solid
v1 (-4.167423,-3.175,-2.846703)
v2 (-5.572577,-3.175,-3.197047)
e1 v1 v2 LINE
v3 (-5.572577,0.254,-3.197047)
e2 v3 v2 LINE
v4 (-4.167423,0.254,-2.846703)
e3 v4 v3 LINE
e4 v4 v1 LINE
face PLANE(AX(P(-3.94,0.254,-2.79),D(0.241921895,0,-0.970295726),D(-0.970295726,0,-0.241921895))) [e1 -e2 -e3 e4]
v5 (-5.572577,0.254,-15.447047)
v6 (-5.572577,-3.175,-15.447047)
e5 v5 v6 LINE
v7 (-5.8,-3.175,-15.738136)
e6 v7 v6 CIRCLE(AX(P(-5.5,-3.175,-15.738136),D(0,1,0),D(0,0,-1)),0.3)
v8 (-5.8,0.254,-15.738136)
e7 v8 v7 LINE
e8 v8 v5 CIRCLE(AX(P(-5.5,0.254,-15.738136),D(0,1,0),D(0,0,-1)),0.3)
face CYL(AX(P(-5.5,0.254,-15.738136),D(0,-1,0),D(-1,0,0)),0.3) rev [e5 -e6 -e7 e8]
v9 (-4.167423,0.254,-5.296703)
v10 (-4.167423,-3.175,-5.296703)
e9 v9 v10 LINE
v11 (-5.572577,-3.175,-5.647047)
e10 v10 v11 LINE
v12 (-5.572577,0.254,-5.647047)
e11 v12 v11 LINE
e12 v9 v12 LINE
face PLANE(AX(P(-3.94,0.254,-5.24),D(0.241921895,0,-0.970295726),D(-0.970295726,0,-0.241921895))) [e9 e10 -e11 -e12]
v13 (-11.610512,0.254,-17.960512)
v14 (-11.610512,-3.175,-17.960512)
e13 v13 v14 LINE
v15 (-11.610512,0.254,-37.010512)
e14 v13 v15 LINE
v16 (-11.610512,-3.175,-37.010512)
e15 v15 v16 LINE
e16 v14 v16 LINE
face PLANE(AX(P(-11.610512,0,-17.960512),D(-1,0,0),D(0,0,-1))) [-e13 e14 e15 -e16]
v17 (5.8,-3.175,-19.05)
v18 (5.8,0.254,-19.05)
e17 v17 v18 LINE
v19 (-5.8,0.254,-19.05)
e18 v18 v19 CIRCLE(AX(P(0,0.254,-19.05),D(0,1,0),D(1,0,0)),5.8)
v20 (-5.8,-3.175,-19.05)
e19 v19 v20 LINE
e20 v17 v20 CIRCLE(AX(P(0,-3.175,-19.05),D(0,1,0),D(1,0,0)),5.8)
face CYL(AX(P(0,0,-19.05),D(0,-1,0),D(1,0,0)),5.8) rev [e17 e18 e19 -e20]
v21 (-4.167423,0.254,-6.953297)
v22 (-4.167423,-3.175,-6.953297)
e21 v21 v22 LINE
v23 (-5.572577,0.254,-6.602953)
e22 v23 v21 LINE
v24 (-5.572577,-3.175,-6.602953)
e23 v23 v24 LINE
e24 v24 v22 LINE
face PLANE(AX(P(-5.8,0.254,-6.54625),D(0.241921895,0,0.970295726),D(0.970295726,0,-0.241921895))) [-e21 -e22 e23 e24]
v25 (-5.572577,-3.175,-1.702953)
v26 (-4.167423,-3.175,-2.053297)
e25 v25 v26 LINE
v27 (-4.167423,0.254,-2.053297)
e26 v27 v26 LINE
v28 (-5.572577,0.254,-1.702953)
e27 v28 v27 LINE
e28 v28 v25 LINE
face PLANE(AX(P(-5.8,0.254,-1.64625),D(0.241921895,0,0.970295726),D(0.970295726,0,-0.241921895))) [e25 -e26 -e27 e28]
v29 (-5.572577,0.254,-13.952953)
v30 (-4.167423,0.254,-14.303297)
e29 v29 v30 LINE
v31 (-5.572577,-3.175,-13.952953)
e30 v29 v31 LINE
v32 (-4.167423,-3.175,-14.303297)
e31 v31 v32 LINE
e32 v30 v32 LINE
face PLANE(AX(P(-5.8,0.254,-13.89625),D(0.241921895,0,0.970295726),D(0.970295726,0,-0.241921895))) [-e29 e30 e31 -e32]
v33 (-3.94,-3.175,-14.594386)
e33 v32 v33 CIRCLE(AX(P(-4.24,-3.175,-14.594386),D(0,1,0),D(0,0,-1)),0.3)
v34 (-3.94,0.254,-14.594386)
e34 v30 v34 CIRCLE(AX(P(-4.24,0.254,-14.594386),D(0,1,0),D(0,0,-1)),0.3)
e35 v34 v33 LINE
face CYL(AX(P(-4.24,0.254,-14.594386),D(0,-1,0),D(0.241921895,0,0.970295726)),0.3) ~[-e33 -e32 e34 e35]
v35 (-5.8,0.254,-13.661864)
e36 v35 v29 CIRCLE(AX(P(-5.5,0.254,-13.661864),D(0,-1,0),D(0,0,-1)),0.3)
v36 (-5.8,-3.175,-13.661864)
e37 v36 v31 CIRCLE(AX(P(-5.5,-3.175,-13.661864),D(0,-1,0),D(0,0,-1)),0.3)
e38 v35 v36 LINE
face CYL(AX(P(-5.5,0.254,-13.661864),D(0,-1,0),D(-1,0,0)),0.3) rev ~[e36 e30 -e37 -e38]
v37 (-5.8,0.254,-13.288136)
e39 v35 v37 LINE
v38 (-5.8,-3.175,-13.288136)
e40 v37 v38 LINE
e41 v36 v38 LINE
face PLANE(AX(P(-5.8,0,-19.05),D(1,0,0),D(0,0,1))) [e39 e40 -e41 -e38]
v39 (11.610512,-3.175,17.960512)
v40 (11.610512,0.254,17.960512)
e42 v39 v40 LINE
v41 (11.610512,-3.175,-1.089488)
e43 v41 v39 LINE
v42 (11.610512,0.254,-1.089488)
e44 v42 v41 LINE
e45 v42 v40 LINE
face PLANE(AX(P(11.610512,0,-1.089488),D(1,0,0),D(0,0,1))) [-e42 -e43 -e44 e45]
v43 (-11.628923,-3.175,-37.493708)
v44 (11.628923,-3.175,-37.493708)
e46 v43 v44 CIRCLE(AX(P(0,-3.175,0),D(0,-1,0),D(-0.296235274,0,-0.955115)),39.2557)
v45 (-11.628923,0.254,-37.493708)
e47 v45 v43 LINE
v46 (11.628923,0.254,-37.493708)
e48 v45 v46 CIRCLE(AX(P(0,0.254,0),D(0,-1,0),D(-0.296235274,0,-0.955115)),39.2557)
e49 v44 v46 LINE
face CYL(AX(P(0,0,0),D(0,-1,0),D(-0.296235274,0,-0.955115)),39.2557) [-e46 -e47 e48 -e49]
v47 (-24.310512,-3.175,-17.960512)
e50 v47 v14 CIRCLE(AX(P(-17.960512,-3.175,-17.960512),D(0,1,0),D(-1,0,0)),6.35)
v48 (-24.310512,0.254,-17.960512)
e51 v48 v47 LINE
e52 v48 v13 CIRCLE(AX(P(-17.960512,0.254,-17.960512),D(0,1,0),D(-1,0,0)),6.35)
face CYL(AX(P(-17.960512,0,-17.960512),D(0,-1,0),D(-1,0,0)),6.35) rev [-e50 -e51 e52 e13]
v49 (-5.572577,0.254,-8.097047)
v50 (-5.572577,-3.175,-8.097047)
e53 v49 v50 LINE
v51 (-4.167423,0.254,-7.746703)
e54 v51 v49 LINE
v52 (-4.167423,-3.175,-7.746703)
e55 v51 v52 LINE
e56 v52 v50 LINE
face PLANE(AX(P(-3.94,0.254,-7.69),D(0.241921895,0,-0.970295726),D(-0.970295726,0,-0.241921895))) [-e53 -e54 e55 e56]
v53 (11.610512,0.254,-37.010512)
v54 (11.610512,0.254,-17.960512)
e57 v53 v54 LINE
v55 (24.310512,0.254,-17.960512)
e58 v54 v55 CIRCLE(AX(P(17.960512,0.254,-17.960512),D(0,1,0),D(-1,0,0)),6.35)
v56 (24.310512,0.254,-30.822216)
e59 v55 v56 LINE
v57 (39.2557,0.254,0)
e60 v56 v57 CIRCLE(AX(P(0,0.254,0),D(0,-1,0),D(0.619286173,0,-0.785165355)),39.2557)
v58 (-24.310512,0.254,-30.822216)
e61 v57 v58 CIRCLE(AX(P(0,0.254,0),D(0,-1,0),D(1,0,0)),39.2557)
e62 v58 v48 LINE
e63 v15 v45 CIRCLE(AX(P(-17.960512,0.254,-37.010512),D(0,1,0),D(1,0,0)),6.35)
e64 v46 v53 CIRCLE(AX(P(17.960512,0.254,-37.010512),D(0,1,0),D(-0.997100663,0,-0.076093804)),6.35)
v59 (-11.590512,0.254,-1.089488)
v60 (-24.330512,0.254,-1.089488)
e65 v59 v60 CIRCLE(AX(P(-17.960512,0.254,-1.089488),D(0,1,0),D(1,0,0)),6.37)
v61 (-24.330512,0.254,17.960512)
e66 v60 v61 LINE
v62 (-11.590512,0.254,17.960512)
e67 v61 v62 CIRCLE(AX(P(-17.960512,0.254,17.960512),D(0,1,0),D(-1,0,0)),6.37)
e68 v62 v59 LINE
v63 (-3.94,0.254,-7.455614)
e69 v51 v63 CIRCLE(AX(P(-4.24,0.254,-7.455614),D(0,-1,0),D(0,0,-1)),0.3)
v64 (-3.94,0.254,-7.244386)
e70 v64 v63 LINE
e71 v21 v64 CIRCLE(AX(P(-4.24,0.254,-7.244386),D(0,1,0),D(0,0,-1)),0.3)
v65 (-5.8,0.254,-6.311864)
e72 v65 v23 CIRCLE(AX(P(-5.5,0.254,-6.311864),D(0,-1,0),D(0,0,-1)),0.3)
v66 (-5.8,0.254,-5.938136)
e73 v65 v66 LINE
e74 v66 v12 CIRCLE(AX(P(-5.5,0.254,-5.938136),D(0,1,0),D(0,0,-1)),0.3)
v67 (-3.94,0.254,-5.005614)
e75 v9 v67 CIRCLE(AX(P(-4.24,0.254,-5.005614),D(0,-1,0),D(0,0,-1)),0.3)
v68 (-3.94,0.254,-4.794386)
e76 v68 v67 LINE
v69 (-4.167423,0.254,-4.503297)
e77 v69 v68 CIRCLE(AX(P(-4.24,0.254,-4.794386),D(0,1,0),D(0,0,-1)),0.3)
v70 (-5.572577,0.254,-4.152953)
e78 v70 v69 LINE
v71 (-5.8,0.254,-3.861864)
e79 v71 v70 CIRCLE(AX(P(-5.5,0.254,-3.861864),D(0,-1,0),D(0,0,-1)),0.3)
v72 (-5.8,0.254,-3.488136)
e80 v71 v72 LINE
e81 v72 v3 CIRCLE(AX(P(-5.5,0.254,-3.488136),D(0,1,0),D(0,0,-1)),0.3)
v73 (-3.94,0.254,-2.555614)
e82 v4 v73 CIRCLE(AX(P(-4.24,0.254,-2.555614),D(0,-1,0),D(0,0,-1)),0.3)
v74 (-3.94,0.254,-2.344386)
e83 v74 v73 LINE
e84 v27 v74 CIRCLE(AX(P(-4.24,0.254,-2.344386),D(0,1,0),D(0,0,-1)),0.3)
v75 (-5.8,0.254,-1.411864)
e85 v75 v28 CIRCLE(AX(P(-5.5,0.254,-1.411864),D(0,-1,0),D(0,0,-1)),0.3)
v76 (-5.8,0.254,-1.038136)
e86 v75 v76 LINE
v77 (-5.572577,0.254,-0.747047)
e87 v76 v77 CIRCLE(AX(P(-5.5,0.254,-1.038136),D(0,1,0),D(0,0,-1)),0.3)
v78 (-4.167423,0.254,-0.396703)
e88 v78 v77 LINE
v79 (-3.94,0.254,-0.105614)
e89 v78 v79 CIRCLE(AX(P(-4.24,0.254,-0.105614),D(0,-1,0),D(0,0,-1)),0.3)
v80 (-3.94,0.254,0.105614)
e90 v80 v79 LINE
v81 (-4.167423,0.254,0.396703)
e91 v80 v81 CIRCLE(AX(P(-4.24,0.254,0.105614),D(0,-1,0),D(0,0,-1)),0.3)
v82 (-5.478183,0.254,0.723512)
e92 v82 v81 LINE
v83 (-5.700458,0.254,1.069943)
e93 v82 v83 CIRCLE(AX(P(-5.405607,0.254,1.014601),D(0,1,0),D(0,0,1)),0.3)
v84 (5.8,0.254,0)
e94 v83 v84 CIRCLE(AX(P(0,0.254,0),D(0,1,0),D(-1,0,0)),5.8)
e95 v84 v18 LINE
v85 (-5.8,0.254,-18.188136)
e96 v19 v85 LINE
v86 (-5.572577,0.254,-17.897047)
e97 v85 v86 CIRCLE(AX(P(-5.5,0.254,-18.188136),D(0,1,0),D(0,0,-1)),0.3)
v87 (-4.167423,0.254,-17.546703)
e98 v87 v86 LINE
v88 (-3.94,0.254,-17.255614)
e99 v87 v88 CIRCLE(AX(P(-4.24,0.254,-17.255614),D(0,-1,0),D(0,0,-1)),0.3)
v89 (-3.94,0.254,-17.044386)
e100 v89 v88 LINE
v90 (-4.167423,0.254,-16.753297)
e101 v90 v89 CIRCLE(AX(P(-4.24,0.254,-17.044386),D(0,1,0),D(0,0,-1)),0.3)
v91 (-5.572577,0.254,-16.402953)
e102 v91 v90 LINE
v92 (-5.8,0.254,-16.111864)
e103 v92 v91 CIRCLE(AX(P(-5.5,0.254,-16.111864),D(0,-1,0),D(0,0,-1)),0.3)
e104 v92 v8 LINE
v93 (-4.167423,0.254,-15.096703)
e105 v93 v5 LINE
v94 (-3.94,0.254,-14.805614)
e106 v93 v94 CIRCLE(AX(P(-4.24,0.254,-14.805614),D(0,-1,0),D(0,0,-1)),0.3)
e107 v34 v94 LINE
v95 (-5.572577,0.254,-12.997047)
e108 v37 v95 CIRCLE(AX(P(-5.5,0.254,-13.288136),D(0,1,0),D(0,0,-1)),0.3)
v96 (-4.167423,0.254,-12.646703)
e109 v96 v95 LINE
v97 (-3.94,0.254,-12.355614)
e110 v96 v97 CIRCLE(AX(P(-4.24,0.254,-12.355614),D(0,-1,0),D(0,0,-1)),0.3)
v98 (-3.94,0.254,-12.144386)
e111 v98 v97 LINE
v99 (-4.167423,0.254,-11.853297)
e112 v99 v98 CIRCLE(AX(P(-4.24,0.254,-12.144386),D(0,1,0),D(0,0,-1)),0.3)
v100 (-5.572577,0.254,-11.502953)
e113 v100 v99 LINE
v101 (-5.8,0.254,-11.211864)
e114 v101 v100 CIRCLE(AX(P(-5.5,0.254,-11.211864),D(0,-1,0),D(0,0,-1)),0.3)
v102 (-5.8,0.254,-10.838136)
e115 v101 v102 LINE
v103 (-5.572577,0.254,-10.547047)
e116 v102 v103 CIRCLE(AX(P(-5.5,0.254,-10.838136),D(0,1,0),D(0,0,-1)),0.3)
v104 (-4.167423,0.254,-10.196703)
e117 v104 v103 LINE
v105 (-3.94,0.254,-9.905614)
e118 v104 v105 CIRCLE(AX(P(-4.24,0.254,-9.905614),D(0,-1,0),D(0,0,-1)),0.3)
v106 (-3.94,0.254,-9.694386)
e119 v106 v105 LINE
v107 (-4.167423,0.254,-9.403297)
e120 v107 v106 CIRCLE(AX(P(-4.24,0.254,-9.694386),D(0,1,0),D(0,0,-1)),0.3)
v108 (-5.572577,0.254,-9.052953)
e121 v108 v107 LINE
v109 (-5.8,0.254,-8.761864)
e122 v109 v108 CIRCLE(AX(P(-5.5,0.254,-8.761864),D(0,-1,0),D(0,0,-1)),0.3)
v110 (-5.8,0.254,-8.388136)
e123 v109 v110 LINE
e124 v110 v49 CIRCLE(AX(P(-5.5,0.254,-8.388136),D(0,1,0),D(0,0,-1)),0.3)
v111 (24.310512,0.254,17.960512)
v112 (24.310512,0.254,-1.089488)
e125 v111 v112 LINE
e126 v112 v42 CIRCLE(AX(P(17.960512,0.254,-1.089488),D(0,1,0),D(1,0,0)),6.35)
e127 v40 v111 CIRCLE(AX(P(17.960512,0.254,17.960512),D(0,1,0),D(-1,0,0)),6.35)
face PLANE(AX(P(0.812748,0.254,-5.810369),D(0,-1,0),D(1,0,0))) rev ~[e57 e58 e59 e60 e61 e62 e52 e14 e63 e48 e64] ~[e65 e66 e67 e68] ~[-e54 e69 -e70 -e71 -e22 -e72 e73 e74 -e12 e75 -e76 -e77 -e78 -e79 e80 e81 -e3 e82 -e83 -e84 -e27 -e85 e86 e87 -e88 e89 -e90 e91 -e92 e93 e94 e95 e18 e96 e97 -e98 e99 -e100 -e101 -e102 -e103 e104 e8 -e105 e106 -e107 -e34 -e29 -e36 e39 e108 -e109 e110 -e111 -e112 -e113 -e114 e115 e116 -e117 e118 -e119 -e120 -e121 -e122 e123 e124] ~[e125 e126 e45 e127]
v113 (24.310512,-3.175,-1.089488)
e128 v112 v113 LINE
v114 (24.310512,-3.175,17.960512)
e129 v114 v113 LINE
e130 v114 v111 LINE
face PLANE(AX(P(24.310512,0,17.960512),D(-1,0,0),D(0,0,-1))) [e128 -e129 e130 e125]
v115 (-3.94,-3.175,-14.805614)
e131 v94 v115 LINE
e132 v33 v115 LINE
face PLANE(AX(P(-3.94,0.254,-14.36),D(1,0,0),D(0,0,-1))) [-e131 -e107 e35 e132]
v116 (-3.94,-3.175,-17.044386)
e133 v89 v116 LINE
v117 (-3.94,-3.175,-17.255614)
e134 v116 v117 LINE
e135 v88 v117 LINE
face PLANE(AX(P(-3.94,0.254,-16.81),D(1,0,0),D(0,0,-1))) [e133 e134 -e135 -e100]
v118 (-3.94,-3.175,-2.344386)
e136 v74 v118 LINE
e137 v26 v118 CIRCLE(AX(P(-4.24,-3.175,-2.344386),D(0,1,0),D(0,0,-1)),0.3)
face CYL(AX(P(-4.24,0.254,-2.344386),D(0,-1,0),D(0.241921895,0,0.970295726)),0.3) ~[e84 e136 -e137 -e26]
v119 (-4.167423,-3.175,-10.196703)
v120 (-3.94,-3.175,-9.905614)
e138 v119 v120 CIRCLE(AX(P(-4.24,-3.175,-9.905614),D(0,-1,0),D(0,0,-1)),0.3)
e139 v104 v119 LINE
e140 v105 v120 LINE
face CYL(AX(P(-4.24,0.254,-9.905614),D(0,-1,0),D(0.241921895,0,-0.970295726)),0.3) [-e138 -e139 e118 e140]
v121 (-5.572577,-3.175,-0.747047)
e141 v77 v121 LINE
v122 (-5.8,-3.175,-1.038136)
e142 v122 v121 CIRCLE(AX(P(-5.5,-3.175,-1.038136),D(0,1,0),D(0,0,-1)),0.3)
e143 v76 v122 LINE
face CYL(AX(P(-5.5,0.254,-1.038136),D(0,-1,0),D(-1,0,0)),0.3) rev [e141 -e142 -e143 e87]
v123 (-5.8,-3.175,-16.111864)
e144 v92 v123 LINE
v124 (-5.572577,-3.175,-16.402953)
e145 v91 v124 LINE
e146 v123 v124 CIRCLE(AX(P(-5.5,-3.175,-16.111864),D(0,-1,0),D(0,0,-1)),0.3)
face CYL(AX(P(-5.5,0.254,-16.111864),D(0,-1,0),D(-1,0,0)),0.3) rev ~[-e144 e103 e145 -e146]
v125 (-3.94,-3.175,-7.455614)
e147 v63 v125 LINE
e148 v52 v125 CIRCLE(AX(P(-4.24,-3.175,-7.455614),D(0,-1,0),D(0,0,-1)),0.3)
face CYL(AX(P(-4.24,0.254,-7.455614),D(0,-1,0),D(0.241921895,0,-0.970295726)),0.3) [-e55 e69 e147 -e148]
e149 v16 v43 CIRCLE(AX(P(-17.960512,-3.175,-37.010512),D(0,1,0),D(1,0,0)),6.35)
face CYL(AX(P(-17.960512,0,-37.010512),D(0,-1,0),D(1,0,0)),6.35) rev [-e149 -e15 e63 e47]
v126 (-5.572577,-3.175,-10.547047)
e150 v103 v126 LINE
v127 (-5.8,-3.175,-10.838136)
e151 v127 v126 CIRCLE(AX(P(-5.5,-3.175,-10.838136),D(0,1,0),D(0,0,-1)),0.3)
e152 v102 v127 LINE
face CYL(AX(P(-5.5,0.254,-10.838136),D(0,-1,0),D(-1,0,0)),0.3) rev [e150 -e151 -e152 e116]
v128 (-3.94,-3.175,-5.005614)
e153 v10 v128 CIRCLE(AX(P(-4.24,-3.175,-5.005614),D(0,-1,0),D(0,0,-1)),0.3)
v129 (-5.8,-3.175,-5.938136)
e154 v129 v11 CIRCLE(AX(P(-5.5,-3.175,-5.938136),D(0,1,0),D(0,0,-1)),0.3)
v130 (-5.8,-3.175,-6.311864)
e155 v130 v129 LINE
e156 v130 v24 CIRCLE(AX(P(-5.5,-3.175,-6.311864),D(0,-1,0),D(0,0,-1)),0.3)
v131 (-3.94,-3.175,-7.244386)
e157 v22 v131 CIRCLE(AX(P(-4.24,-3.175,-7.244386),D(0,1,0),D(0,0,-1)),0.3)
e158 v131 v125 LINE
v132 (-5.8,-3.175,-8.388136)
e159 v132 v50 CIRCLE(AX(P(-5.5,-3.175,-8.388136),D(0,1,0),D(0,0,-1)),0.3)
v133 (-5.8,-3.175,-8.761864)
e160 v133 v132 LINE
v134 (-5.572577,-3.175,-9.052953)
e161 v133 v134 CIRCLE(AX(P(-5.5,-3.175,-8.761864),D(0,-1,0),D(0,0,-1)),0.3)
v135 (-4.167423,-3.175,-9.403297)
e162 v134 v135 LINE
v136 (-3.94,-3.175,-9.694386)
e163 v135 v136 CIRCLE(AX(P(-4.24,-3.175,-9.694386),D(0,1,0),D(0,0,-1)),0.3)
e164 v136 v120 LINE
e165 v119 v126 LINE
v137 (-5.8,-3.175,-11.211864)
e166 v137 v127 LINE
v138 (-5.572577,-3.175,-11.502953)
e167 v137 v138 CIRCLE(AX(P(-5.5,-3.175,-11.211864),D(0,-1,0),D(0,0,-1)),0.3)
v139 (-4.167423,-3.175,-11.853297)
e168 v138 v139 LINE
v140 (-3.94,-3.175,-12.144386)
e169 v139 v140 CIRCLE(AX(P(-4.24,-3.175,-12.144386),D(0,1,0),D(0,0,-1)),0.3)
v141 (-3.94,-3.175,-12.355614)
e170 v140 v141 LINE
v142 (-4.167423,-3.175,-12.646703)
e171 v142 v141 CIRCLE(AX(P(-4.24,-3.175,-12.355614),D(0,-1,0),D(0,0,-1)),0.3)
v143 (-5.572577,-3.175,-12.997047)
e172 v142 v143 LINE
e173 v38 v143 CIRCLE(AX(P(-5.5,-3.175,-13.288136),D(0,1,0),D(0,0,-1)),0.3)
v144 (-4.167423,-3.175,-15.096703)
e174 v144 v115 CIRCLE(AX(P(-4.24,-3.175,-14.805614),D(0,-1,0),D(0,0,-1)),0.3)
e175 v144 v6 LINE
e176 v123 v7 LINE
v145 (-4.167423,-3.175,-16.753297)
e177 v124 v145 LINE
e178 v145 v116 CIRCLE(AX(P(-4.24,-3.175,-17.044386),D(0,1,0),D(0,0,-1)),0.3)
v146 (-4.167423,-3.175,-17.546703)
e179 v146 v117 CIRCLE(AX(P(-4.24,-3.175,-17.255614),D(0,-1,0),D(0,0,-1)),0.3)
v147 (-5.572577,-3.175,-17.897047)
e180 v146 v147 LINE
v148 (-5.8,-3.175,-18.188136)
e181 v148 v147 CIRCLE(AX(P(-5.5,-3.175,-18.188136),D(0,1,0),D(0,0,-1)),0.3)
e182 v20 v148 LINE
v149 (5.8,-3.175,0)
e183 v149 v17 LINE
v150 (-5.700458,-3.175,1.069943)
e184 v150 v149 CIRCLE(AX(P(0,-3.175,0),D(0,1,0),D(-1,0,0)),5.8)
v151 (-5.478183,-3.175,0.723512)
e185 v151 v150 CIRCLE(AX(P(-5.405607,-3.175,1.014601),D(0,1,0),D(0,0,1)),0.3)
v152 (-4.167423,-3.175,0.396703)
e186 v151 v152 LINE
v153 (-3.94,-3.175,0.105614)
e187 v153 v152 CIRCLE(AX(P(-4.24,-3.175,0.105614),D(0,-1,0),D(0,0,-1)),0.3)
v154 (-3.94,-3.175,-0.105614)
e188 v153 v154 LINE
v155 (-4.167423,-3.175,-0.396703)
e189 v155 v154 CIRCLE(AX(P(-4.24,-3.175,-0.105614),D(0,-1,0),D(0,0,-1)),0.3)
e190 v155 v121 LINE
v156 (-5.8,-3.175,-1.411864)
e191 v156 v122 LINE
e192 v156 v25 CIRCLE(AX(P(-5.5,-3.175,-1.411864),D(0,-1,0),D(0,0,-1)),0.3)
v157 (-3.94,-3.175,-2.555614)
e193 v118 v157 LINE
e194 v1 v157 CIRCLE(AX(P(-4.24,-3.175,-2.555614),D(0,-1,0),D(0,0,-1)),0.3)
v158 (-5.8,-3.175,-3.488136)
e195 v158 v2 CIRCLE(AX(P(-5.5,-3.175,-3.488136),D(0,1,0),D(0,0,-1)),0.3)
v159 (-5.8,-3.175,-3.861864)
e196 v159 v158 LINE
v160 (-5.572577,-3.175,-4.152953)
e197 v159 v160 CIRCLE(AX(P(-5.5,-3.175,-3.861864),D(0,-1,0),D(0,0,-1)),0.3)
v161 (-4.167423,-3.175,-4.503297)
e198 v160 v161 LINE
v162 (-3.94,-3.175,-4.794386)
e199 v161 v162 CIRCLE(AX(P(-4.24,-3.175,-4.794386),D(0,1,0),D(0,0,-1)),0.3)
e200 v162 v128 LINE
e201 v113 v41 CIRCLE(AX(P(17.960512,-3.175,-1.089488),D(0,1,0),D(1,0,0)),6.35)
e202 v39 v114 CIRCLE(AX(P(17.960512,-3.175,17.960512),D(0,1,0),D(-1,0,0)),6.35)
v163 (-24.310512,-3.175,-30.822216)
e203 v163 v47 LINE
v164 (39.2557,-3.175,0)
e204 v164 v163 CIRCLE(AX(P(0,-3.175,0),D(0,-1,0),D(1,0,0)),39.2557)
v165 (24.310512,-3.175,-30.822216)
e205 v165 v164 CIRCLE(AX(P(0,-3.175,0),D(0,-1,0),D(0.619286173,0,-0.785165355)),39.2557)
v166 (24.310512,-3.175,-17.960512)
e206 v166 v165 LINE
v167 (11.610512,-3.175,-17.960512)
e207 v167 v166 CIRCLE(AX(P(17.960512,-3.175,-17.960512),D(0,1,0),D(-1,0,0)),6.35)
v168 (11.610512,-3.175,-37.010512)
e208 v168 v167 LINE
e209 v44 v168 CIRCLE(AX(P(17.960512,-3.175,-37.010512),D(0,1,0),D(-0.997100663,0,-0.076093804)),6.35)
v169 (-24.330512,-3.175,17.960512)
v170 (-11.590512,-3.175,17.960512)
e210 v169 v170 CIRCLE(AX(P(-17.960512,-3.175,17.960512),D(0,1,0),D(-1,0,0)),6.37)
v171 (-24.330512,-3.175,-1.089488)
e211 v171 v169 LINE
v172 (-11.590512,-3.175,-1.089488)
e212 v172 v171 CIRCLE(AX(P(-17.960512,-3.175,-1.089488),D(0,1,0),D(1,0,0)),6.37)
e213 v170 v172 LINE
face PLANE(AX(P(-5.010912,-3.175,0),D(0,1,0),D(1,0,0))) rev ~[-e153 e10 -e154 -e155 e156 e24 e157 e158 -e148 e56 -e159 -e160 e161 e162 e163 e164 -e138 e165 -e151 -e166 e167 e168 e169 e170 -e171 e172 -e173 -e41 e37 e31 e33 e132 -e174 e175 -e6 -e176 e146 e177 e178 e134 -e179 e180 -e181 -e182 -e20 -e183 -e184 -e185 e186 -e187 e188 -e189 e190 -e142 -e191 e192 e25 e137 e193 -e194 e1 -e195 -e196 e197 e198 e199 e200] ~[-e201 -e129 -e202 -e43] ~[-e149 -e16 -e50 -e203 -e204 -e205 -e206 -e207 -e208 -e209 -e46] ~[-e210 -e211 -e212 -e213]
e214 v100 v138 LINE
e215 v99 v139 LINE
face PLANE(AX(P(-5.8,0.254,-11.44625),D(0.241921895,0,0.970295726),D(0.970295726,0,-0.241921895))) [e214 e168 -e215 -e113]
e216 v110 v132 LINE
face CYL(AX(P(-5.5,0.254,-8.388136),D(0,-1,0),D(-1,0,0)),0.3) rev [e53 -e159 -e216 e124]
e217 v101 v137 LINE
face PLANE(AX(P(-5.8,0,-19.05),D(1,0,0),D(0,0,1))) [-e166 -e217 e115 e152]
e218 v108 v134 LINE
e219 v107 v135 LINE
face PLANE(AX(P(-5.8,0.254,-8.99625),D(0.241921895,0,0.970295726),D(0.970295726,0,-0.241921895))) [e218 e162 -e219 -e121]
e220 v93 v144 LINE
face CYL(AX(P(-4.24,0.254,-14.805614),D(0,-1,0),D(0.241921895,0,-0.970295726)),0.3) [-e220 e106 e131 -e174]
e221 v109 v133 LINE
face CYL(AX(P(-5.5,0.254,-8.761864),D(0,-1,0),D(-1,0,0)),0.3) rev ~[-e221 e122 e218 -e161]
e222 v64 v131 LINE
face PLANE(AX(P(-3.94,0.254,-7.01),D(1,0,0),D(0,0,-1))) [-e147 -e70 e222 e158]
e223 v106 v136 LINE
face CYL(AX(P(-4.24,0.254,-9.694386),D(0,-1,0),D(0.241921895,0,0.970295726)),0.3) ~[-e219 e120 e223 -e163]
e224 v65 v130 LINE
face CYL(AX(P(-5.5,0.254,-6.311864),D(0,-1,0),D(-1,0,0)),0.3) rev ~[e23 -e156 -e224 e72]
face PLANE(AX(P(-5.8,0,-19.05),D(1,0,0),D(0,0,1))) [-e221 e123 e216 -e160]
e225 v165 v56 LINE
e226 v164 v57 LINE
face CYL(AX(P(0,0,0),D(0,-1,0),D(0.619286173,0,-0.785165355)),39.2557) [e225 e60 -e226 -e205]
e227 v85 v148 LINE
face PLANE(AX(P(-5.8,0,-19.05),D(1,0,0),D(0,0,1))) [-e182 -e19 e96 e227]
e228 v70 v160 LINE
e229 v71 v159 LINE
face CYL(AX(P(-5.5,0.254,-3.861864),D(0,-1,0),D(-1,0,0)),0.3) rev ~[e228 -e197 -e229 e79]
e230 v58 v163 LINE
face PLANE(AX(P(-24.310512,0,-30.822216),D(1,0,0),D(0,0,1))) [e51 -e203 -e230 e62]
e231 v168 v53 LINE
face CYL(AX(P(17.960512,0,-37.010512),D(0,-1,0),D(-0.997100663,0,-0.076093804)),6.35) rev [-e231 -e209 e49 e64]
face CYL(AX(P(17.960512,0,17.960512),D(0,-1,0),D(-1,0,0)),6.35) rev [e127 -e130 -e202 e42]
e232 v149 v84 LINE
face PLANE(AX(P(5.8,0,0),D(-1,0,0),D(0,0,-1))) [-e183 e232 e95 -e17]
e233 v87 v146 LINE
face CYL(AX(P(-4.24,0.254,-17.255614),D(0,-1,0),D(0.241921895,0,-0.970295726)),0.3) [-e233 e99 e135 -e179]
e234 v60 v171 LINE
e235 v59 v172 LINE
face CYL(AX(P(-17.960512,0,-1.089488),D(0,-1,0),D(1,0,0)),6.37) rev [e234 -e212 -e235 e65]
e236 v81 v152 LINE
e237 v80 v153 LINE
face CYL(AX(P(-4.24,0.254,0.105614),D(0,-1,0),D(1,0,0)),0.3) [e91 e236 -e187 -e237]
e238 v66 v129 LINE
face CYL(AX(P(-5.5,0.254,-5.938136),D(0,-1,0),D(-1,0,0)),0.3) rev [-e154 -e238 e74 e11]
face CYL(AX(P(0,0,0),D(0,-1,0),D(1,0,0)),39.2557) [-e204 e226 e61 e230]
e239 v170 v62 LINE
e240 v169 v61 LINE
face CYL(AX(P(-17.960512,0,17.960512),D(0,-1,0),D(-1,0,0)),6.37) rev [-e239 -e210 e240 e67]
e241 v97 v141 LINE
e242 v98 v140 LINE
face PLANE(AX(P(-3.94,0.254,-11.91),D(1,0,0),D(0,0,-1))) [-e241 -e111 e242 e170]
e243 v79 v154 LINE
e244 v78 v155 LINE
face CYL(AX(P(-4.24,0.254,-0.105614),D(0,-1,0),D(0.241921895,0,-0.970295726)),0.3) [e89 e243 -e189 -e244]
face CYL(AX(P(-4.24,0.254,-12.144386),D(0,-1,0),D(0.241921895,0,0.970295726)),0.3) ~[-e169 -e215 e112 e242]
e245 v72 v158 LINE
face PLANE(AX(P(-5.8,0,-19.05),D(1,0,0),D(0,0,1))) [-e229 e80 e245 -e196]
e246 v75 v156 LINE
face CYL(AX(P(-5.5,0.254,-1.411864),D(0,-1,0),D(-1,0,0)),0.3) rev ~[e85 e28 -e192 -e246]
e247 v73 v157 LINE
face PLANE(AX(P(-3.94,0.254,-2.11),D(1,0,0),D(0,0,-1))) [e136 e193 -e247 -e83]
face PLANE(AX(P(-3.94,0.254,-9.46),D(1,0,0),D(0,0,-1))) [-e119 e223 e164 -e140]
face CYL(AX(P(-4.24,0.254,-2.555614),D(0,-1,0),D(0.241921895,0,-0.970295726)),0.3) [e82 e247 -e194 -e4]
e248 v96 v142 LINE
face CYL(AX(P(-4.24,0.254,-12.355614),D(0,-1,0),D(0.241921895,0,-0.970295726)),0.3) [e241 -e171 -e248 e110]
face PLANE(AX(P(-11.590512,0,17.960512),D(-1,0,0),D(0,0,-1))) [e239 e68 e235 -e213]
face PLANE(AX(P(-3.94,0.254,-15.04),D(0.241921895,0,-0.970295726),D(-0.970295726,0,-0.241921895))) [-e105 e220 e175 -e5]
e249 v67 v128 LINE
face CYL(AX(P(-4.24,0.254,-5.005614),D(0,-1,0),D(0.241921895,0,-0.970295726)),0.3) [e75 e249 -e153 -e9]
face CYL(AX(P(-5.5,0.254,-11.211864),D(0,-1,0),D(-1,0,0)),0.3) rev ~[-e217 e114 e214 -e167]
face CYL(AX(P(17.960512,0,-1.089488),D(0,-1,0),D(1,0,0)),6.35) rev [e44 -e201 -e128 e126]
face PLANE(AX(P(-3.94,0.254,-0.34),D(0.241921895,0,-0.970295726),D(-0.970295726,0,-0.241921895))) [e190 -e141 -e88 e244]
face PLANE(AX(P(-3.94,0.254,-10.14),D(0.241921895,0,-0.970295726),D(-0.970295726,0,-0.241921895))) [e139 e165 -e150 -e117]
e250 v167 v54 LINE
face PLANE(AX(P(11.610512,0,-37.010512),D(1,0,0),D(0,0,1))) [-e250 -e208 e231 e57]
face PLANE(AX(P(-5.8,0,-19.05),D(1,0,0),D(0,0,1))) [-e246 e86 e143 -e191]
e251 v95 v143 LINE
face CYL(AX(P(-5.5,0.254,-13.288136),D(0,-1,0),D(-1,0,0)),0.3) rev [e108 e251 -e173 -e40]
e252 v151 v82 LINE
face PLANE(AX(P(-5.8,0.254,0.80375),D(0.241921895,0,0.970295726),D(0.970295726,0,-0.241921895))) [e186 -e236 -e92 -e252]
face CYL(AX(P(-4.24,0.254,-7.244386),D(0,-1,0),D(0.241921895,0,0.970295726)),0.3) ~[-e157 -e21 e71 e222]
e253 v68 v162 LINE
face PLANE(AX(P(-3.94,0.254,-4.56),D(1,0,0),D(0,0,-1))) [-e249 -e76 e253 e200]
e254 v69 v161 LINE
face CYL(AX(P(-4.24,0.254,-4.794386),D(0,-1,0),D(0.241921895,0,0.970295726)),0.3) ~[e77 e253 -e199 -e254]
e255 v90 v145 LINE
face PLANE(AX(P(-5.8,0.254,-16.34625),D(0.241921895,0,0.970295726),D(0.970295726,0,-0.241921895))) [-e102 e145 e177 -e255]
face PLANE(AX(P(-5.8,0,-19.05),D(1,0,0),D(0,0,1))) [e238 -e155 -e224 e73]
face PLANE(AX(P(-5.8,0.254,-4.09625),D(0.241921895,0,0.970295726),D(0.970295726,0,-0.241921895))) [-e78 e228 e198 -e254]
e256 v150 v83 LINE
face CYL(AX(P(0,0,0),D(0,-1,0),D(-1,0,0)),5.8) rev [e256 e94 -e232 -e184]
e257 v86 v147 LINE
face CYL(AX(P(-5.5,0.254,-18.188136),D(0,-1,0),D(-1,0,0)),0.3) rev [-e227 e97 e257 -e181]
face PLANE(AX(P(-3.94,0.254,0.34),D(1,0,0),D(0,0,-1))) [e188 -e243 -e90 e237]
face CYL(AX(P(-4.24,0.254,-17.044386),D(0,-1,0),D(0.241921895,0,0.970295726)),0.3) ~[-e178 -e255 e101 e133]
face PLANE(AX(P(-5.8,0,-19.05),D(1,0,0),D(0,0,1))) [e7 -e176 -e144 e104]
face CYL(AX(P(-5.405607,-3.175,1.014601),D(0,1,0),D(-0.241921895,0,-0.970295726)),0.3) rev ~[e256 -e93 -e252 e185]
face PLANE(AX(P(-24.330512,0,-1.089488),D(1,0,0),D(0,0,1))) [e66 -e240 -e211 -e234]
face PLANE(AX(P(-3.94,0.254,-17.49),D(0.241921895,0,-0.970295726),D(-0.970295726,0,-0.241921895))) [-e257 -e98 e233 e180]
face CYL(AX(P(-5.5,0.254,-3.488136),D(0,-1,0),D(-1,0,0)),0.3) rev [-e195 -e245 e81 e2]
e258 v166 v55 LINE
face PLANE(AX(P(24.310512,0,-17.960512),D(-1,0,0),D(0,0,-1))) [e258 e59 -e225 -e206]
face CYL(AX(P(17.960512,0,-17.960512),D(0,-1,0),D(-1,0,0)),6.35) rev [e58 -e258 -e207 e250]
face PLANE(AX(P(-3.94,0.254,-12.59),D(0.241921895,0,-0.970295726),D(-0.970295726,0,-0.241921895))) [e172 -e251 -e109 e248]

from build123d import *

# Parameters (mm, degrees)
BOSS_EXTRUDE1_DEPTH      = 3.175
BOSS_EXTRUDE1_DEPTH_BACK = 0.254
BOSS_EXTRUDE2_DEPTH      = 3.429
LPATTERN1_COUNT          = 8
LPATTERN1_PITCH          = 2.45
FILLET1_R                = 0.3


with BuildPart() as part:
    # Sketch3 → Boss-Extrude1 (new body, two sides)
    with BuildSketch(Plane.XZ) as boss_extrude1_sk:
        with BuildLine():
            ThreePointArc((39.2557, 0), (-17.127226966, 35.322345321), (-24.310512242, -30.822215641))
            Line((-24.310512242, -30.822215641), (-24.310512242, -17.960512242))
            ThreePointArc((-24.310512242, -17.960512242), (-17.960512242, -11.610512242), (-11.610512242, -17.960512242))
            Line((-11.610512242, -17.960512242), (-11.610512242, -37.010512242))
            ThreePointArc((-11.610512242, -37.010512242), (-11.615116608, -37.252285377), (-11.628923029, -37.493707894))
            ThreePointArc((-11.628923029, -37.493707894), (0, -39.2557), (11.628923029, -37.493707894))
            ThreePointArc((11.628923029, -37.493707894), (11.615116608, -37.252285377), (11.610512242, -37.010512242))
            Line((11.610512242, -37.010512242), (11.610512242, -17.960512242))
            ThreePointArc((11.610512242, -17.960512242), (17.960512242, -11.610512242), (24.310512242, -17.960512242))
            Line((24.310512242, -17.960512242), (24.310512242, -30.822215641))
            ThreePointArc((24.310512242, -30.822215641), (35.322345321, -17.127226966), (39.2557, 0))
        make_face()
        with BuildLine():
            ThreePointArc((-5.8, 0), (0, 5.8), (5.8, 0))
            Line((5.8, 0), (5.8, -19.05))
            ThreePointArc((5.8, -19.05), (0, -24.85), (-5.8, -19.05))
            Line((-5.8, -19.05), (-5.8, 0))
        make_face(mode=Mode.SUBTRACT)
        with BuildLine():
            ThreePointArc((-11.590512242, -1.089487758), (-17.960512242, -7.459487758), (-24.330512242, -1.089487758))
            Line((-24.330512242, -1.089487758), (-24.330512242, 17.960512242))
            ThreePointArc((-24.330512242, 17.960512242), (-17.960512242, 24.330512242), (-11.590512242, 17.960512242))
            Line((-11.590512242, 17.960512242), (-11.590512242, -1.089487758))
        make_face(mode=Mode.SUBTRACT)
        with BuildLine():
            ThreePointArc((24.310512242, -1.089487758), (17.960512242, -7.439487758), (11.610512242, -1.089487758))
            Line((11.610512242, -1.089487758), (11.610512242, 17.960512242))
            ThreePointArc((11.610512242, 17.960512242), (17.960512242, 24.310512242), (24.310512242, 17.960512242))
            Line((24.310512242, 17.960512242), (24.310512242, -1.089487758))
        make_face(mode=Mode.SUBTRACT)
    extrude(amount=BOSS_EXTRUDE1_DEPTH)
    extrude(boss_extrude1_sk.sketch, amount=-BOSS_EXTRUDE1_DEPTH_BACK)

    # Sketch4 → Boss-Extrude2 (add)
    with BuildSketch(Plane(origin=(0, 0.254, 0), x_dir=(1, 0, 0), z_dir=(0, 1, 0))):
        Polygon((-5.8, -0.803750085), (-3.94, -0.34), (-3.94, 0.34), (-5.8, 0.803750085), align=None)
    boss_extrude2 = extrude(amount=-BOSS_EXTRUDE2_DEPTH)

    # LPattern1: Boss-Extrude2 ×8
    with Locations(*[(0, 0, -i * LPATTERN1_PITCH) for i in range(1, LPATTERN1_COUNT)]):
        add(boss_extrude2)

    # Fillet1
    fillet1_edges = [part.edges().sort_by_distance(p)[0] for p in [
        (-3.94, -1.4605, 0.34),
        (-5.8, -1.4605, -0.803750085),
        (-3.94, -1.4605, -0.34),
        (-5.7459101, -1.4605, 0.790263959),
        (-5.8, -1.4605, -1.646249915),
        (-5.8, -1.4605, -3.253750085),
        (-3.94, -1.4605, -2.79),
        (-3.94, -1.4605, -2.11),
        (-5.8, -1.4605, -4.096249915),
        (-5.8, -1.4605, -5.703750085),
        (-3.94, -1.4605, -5.24),
        (-3.94, -1.4605, -4.56),
        (-5.8, -1.4605, -6.546249915),
        (-5.8, -1.4605, -8.153750085),
        (-3.94, -1.4605, -7.69),
        (-3.94, -1.4605, -7.01),
        (-5.8, -1.4605, -8.996249915),
        (-5.8, -1.4605, -10.603750085),
        (-3.94, -1.4605, -10.14),
        (-3.94, -1.4605, -9.46),
        (-5.8, -1.4605, -11.446249915),
        (-5.8, -1.4605, -13.053750085),
        (-3.94, -1.4605, -12.59),
        (-3.94, -1.4605, -11.91),
        (-5.8, -1.4605, -13.896249915),
        (-5.8, -1.4605, -15.503750085),
        (-3.94, -1.4605, -15.04),
        (-3.94, -1.4605, -14.36),
        (-5.8, -1.4605, -16.346249915),
        (-5.8, -1.4605, -17.953750085),
        (-3.94, -1.4605, -17.49),
        (-3.94, -1.4605, -16.81),
    ]]
    fillet(fillet1_edges, radius=FILLET1_R)


solid = part.part
